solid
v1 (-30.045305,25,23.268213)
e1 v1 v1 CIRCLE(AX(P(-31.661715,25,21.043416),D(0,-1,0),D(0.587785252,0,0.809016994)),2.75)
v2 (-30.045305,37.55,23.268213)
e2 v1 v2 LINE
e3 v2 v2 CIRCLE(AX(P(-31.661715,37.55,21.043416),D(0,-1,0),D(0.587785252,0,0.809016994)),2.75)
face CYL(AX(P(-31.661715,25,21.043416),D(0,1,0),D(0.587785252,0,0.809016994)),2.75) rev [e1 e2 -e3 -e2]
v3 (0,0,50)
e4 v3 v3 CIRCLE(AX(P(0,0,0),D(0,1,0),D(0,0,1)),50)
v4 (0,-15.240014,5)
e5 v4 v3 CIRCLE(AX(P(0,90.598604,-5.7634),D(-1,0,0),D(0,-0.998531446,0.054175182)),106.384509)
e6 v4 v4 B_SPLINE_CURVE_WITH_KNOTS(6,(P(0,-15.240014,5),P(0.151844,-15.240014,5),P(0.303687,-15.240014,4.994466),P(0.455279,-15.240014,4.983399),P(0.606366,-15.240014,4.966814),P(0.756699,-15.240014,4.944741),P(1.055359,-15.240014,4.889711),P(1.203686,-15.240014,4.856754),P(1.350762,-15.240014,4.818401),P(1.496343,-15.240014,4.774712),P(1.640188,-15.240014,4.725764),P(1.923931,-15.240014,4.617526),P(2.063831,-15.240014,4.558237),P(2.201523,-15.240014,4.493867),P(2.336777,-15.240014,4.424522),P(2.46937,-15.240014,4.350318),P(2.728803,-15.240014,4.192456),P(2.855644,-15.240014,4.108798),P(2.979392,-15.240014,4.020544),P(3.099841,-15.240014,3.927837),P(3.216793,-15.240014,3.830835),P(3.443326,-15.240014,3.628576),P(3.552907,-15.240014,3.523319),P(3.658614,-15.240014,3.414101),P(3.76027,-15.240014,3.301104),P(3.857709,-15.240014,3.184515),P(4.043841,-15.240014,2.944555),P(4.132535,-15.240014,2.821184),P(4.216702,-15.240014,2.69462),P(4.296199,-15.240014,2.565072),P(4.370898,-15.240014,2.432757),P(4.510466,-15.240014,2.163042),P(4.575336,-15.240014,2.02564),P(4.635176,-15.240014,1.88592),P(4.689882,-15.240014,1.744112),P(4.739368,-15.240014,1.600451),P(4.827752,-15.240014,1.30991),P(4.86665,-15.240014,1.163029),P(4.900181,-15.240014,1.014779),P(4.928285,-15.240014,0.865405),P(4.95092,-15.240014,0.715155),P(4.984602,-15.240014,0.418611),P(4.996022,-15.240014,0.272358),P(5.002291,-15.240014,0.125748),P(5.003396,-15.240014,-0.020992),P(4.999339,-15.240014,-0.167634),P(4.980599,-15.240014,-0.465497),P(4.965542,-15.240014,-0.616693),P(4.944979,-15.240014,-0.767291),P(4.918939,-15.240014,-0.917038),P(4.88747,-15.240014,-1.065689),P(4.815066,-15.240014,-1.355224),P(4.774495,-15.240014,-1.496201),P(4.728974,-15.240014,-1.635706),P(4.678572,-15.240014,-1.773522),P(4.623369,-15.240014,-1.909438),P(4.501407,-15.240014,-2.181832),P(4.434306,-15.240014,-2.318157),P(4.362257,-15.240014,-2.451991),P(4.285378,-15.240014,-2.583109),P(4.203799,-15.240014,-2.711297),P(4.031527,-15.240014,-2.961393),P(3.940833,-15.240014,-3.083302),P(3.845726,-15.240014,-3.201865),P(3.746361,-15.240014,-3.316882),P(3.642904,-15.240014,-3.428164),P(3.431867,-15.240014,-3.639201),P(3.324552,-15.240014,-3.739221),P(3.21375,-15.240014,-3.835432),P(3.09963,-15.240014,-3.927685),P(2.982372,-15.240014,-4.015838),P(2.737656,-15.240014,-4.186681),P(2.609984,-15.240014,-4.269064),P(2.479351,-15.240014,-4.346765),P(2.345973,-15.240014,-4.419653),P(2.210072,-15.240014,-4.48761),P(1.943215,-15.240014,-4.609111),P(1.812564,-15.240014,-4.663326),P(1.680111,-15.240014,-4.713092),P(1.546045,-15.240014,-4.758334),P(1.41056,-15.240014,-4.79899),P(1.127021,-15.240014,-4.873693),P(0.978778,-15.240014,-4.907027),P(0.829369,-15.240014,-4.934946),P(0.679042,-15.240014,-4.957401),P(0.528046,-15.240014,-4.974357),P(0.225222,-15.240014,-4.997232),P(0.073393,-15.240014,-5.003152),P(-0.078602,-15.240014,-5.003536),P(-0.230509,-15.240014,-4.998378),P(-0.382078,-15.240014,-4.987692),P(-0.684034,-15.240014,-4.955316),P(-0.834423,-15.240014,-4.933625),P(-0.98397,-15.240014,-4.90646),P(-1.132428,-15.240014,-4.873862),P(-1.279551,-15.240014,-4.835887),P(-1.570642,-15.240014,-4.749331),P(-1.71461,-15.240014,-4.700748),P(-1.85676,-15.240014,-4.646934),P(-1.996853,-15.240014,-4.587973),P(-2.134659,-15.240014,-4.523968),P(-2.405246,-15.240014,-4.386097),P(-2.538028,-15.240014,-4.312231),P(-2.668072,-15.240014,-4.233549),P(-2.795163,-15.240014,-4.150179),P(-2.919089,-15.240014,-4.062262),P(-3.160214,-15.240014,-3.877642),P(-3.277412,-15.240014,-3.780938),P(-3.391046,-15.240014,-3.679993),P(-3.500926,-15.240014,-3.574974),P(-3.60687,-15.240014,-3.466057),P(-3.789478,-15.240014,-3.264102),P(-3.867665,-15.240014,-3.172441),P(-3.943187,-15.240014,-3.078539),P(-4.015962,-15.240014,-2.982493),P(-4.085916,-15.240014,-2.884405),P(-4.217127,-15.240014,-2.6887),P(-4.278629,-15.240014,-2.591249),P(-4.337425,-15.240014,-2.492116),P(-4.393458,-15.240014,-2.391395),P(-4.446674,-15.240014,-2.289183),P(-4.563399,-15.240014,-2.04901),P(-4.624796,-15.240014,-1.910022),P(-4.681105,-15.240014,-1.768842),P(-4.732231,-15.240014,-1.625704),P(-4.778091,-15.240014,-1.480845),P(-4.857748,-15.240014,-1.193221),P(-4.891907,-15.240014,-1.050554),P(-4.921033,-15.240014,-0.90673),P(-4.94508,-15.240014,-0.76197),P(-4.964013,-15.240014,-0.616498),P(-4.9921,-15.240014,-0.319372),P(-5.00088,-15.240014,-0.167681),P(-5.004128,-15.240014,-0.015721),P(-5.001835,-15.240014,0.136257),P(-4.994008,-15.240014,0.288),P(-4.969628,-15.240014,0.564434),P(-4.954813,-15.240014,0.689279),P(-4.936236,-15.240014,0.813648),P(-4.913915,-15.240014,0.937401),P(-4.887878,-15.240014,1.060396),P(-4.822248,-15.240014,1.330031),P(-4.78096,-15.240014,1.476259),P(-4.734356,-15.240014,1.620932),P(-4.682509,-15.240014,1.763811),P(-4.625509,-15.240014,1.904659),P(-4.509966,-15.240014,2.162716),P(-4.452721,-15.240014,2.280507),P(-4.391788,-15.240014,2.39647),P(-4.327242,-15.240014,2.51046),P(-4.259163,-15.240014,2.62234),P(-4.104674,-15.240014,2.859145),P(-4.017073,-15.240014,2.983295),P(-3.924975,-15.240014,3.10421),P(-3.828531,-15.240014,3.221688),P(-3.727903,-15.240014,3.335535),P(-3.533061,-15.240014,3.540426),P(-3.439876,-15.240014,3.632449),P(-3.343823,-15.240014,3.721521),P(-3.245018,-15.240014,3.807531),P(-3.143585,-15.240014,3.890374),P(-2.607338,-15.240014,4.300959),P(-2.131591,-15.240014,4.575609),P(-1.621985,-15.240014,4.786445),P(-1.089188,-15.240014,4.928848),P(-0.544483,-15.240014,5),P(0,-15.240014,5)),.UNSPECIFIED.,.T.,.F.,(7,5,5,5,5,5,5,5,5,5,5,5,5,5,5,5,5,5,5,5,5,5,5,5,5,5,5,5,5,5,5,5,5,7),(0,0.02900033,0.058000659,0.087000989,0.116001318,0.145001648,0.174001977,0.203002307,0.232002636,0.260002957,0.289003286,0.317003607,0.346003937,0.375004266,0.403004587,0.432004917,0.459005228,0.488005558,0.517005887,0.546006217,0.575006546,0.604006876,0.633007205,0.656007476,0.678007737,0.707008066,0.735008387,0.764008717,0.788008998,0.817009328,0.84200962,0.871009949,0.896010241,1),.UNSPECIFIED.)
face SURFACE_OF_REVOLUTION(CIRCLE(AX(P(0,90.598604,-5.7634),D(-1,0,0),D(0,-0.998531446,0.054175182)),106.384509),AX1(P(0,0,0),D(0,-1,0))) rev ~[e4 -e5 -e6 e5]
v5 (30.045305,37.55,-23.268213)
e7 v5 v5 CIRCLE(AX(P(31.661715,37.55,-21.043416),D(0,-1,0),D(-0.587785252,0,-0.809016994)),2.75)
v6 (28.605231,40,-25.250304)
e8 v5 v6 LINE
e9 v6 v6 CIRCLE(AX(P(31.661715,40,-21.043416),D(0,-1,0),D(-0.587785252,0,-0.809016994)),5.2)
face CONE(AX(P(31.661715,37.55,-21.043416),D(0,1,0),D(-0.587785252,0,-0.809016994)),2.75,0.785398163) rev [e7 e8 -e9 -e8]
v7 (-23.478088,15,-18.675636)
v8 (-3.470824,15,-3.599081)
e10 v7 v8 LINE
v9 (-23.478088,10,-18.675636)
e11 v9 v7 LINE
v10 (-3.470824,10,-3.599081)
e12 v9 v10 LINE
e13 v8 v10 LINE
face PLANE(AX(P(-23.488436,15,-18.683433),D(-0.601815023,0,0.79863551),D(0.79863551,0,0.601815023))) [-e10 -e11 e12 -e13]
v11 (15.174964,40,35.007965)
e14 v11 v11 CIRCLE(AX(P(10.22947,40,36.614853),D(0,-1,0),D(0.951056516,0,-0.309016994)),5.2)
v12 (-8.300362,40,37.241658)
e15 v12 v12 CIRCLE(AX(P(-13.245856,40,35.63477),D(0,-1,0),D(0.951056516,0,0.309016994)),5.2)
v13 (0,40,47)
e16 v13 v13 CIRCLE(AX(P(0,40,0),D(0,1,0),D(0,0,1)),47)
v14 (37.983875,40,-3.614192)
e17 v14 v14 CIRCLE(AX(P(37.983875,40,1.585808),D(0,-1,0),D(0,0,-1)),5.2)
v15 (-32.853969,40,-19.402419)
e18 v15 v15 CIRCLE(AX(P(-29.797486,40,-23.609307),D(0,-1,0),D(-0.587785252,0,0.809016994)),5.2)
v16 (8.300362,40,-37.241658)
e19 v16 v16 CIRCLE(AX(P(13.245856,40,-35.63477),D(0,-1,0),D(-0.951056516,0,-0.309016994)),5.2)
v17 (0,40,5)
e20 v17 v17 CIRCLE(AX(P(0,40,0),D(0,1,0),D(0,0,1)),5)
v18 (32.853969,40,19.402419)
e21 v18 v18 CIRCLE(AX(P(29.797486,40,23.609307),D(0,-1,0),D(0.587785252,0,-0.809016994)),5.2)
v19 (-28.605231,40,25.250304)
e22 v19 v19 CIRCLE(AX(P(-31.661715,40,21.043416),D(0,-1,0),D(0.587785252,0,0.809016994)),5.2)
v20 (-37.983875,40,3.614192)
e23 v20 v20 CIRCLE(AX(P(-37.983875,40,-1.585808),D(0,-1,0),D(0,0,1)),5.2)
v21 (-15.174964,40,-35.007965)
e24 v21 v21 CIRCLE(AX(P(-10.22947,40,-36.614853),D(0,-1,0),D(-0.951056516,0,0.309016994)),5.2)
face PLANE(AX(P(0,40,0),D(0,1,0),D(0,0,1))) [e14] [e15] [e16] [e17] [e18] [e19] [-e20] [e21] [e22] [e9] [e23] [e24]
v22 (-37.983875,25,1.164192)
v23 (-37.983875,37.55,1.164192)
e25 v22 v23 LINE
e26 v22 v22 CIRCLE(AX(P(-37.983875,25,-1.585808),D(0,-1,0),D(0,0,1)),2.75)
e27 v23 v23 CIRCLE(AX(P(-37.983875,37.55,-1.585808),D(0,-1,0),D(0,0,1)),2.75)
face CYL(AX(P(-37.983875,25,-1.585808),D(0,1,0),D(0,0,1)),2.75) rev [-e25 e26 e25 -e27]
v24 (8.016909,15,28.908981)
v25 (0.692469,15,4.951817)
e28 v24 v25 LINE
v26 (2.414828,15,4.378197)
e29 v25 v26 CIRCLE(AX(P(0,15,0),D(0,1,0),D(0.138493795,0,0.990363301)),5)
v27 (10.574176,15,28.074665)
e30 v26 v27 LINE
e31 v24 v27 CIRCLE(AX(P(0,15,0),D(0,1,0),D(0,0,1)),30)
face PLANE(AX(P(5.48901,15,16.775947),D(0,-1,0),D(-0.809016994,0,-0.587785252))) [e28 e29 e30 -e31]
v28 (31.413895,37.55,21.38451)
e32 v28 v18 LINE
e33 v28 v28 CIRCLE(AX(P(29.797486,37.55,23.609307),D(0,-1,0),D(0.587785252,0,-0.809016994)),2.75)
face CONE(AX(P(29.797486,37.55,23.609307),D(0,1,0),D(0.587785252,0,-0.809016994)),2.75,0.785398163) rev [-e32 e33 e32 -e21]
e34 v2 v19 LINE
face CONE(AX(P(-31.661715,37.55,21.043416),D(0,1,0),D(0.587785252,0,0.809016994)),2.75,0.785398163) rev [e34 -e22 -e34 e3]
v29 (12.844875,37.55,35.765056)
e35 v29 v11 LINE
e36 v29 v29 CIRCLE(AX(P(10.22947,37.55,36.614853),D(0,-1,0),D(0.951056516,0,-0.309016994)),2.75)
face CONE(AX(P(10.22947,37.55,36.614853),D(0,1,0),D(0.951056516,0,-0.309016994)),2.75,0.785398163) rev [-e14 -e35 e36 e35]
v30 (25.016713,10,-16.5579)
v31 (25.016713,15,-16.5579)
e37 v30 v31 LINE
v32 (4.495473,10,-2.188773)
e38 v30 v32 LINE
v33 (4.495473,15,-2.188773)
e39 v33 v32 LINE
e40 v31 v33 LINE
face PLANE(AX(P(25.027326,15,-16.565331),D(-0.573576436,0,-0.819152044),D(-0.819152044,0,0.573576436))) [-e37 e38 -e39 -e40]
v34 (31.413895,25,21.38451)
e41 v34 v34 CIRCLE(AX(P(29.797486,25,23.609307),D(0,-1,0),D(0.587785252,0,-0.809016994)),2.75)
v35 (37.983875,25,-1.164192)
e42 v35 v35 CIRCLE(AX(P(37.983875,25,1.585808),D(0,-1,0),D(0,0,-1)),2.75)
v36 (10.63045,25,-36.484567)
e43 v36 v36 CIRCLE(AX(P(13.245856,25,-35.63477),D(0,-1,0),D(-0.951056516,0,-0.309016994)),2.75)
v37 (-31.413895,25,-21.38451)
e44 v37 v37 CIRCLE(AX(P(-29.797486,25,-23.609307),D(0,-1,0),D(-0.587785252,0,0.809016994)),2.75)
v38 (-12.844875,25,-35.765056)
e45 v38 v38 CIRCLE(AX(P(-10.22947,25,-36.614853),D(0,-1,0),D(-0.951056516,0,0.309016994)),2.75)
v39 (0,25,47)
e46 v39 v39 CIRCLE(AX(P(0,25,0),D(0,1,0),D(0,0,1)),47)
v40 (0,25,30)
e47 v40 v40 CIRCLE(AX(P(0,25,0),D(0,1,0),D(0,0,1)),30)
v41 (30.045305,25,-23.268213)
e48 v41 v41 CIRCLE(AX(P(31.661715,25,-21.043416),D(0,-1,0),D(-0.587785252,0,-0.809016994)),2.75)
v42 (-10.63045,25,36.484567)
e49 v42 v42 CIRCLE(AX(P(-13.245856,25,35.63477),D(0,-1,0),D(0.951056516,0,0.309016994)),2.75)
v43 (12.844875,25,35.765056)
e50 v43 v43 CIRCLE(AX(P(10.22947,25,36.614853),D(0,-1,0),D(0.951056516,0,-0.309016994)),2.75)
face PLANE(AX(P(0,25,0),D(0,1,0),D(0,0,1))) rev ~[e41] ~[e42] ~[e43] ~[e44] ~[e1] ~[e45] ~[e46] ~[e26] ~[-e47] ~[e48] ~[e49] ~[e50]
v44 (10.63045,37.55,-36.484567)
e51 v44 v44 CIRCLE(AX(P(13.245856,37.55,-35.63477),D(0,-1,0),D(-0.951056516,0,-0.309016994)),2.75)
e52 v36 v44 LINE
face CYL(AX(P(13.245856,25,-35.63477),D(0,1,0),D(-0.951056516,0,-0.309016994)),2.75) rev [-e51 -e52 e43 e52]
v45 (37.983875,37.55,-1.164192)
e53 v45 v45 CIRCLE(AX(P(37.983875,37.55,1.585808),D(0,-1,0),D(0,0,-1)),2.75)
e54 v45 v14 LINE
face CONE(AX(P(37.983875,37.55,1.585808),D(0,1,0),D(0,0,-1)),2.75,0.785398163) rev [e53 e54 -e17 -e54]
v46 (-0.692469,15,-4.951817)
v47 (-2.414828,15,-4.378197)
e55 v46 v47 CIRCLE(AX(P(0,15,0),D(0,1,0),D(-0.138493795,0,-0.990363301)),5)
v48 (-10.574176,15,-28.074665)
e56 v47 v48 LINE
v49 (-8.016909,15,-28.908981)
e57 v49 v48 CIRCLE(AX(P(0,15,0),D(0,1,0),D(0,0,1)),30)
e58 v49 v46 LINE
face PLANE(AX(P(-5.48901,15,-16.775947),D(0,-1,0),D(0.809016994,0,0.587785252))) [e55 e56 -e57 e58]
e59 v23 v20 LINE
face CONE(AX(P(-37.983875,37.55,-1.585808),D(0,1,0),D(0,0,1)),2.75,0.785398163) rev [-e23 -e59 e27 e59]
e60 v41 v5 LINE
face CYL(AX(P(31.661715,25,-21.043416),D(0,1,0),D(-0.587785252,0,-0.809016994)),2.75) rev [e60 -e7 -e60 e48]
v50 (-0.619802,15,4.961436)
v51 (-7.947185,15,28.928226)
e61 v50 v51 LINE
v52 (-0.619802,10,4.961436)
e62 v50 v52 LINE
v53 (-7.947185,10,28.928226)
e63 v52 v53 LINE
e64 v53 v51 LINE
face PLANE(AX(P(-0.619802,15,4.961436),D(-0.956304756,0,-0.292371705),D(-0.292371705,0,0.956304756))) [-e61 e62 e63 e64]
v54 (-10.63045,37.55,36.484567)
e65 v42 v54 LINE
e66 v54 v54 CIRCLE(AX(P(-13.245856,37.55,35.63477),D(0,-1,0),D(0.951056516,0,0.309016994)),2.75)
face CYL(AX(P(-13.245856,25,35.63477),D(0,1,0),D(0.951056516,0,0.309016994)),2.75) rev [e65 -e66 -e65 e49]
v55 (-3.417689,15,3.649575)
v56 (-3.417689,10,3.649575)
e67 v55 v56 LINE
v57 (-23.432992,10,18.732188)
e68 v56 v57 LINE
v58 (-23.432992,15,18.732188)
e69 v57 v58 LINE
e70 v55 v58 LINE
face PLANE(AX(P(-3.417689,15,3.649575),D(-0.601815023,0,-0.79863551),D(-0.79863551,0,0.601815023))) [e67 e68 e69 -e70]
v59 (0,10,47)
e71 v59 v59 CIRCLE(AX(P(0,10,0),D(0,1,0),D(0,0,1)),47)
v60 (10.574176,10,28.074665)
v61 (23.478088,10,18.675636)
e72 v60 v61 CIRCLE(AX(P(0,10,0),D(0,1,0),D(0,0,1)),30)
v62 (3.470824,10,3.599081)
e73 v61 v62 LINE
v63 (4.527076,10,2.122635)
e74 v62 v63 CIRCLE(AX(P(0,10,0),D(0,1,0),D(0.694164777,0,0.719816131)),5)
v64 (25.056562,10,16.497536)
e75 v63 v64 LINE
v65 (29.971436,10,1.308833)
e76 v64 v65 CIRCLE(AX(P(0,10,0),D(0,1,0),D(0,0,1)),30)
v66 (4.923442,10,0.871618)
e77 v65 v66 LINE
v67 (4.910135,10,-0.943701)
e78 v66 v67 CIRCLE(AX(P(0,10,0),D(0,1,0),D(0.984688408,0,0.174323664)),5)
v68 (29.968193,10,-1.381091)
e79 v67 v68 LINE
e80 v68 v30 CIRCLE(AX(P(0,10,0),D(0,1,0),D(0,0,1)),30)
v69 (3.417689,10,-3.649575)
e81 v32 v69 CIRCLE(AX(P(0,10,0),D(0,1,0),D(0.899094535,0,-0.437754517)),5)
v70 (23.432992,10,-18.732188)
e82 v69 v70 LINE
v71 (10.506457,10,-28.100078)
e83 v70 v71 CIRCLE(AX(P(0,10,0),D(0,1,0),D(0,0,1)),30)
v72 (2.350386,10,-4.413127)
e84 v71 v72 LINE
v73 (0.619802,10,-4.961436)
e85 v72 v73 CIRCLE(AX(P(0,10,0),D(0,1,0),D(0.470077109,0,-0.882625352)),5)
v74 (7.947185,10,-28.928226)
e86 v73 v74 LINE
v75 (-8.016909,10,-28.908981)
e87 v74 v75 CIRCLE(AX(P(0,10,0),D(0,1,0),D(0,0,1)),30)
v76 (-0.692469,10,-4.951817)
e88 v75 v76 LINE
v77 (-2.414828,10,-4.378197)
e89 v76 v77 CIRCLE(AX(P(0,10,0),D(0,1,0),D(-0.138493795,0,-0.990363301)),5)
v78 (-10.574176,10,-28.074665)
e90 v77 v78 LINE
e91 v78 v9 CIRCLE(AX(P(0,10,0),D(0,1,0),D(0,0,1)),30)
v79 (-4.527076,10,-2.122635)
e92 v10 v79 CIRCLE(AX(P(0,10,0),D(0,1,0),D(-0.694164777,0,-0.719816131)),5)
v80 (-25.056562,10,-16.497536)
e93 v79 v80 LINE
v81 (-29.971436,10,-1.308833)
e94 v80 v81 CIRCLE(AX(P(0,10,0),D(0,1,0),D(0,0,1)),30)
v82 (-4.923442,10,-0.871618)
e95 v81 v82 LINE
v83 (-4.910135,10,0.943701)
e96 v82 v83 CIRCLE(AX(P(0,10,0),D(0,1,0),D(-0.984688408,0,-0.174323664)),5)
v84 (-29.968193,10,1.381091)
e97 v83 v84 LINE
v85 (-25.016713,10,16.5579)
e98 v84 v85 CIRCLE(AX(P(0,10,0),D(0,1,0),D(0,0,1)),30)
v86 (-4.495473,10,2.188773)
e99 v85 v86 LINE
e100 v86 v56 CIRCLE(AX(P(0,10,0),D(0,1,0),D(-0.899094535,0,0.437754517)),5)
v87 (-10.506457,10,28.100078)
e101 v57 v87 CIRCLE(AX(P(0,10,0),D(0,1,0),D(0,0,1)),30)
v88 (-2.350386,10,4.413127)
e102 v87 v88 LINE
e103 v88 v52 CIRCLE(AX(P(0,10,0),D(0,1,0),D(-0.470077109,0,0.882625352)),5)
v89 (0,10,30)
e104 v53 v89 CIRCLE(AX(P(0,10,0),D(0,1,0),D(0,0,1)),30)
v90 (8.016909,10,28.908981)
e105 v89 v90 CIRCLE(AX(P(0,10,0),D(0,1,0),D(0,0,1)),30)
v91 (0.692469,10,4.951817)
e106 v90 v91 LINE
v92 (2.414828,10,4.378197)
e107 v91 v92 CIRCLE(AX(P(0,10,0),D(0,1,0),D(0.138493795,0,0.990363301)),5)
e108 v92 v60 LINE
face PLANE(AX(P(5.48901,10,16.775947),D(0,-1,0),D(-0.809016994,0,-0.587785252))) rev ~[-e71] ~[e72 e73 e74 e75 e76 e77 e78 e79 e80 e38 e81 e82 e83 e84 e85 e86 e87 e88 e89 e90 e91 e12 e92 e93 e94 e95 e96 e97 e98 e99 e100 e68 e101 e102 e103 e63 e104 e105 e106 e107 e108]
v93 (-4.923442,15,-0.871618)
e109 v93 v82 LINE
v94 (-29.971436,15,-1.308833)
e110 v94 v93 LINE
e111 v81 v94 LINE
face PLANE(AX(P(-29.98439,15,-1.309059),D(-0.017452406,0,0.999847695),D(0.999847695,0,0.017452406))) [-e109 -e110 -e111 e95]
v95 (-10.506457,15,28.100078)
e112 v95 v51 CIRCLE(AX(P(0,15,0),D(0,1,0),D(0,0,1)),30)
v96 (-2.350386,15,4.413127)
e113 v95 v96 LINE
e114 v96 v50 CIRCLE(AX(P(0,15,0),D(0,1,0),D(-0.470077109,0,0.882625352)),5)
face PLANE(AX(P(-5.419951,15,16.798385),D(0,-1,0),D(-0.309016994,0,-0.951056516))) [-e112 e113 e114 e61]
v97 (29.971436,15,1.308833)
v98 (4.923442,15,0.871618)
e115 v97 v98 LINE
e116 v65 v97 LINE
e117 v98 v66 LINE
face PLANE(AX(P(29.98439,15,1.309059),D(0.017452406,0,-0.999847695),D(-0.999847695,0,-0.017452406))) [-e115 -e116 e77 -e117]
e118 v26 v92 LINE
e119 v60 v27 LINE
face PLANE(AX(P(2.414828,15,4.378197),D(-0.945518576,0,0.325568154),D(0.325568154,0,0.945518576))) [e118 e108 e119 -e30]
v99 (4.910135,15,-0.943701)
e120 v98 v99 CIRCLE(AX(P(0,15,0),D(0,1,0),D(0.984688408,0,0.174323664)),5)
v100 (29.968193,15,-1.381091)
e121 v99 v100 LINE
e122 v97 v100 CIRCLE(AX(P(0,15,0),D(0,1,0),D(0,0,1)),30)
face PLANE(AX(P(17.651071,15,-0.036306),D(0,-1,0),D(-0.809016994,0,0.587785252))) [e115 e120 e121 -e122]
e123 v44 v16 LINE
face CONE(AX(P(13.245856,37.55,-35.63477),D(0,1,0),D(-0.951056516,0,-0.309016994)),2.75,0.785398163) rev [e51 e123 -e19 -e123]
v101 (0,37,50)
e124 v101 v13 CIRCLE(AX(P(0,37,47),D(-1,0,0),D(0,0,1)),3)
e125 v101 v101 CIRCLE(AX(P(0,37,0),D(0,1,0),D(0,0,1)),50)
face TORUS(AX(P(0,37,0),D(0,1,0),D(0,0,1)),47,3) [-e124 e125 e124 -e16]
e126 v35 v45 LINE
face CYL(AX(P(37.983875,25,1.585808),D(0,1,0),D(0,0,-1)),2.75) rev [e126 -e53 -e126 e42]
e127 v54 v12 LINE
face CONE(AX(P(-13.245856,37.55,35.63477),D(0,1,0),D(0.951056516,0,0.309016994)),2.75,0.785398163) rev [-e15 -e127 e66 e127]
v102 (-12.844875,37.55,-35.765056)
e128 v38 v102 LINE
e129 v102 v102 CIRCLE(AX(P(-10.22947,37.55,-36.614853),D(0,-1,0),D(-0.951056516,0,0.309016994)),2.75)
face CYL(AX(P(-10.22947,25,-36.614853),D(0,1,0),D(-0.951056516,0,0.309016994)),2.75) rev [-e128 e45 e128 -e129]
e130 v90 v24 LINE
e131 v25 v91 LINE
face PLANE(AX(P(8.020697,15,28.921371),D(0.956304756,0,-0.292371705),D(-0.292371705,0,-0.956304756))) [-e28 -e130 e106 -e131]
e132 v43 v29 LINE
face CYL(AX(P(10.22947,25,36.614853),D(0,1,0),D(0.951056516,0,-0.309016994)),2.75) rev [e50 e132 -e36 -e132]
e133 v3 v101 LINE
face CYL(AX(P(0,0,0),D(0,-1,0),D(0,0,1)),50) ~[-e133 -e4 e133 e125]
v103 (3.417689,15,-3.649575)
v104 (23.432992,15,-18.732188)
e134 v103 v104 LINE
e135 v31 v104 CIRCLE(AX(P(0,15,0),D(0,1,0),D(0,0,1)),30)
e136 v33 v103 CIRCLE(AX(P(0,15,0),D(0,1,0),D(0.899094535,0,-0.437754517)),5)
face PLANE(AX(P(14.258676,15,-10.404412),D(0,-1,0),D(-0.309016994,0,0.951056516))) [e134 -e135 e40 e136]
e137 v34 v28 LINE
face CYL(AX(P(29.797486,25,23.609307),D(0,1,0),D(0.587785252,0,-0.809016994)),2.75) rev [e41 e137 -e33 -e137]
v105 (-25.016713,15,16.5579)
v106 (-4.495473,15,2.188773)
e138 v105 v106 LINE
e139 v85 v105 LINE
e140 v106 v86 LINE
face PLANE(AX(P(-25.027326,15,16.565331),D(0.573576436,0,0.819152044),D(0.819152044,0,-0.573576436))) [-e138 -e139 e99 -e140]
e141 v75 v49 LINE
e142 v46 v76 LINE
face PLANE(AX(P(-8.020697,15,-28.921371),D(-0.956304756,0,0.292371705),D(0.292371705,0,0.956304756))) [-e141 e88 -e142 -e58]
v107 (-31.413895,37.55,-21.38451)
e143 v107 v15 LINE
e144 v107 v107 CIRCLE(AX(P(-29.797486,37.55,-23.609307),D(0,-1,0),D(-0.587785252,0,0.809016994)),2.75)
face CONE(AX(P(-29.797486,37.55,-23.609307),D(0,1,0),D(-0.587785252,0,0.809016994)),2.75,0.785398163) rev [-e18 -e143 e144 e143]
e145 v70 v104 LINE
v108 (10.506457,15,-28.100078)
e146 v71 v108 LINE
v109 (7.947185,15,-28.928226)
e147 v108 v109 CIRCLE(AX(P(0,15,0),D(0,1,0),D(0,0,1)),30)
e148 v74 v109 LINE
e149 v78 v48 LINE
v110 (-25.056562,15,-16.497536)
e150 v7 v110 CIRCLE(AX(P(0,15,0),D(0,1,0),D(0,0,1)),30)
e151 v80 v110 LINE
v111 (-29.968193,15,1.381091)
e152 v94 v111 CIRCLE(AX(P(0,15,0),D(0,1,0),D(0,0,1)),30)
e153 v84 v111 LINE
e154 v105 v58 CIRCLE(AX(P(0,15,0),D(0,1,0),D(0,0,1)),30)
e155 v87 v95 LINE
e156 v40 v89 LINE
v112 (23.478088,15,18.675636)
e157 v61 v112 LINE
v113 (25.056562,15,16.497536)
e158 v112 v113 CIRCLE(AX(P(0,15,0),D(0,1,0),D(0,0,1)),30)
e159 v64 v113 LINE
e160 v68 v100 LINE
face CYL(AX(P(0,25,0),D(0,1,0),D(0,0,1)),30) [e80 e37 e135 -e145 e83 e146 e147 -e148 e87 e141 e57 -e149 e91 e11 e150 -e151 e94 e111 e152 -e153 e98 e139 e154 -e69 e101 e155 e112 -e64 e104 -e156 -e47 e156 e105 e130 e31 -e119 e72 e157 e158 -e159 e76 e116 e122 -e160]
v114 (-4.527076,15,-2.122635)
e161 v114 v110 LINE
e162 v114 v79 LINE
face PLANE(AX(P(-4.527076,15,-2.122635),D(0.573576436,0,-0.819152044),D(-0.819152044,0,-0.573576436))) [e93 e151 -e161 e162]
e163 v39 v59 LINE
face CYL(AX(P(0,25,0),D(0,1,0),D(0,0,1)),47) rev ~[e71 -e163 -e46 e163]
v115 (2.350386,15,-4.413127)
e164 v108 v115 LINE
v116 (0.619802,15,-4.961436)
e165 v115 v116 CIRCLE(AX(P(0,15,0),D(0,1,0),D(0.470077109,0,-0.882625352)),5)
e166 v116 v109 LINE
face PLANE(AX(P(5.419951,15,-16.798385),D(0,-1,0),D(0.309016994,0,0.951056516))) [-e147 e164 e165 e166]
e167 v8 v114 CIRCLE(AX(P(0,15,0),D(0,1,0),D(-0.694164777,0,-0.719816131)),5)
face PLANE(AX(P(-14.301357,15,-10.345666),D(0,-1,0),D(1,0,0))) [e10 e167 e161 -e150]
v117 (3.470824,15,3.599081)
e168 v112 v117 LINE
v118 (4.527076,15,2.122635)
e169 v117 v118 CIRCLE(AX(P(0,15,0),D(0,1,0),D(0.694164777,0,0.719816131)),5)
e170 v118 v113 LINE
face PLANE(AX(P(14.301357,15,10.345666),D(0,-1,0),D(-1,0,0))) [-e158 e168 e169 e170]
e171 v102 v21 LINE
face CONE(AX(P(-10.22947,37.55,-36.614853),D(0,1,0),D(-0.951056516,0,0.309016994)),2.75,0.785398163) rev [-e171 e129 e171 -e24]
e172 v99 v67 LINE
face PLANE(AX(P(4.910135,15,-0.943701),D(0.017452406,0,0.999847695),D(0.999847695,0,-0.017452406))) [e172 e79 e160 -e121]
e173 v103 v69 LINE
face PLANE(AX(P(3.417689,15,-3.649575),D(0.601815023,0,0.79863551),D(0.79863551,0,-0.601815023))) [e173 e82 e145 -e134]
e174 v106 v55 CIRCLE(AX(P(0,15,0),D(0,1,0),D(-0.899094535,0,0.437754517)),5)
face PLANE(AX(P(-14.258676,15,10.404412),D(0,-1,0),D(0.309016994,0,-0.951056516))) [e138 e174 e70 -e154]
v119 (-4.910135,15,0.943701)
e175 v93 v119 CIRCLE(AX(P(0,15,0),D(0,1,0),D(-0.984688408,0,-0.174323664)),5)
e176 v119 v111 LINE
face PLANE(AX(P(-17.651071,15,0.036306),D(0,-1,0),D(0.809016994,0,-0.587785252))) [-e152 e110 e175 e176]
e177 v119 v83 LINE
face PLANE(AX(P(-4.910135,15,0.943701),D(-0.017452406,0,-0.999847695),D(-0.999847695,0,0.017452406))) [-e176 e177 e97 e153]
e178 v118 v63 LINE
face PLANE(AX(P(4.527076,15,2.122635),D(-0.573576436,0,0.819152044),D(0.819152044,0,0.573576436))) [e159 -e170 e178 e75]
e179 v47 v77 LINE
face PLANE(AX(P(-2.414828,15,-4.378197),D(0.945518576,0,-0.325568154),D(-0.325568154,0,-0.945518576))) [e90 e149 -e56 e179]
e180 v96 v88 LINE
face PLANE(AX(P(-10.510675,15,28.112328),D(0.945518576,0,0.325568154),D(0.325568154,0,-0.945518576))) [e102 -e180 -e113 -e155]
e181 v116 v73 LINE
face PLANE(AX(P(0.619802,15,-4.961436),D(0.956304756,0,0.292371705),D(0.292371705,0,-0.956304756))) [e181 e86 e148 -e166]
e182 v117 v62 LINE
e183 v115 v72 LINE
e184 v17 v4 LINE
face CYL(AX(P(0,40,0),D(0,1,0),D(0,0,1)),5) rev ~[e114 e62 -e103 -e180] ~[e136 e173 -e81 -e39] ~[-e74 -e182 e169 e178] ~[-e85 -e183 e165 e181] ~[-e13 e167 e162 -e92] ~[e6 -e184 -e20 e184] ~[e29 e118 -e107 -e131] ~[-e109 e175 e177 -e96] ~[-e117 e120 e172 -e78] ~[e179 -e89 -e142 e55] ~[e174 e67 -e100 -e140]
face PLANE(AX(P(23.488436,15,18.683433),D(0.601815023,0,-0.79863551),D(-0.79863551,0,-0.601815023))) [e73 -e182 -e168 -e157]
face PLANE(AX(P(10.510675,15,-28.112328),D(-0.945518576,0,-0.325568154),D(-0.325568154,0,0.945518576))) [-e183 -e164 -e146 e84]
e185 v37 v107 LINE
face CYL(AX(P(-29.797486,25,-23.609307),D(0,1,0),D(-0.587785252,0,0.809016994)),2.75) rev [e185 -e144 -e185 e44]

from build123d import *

# Parameters (mm, degrees)
SKETCH1_R           = 50
BOSS_EXTRUDE1_DEPTH = 40
CIRPATTERN1_COUNT   = 10
FILLET2_R           = 3
SKETCH9_R           = 5
CUT_EXTRUDE2_DEPTH  = 90.970332195
SKETCH10_R          = 47
SKETCH10_R_2        = 30
CUT_EXTRUDE3_DEPTH  = 15
CUT_EXTRUDE4_START  = 5
CUT_EXTRUDE4_DEPTH  = 5
CIRPATTERN2_COUNT   = 10


with BuildPart() as part:
    # Sketch1 → Boss-Extrude1 (new body)
    with BuildSketch(Plane(origin=(0, 0, 0), x_dir=(1, 0, 0), z_dir=(0, 1, 0))):
        with Locations(Location((0, 0, 0), (0, 0, 270))):
            Circle(SKETCH1_R)
    extrude(amount=BOSS_EXTRUDE1_DEPTH)

    # Sketch5 → CSK for M5 Countersunk Flat Head Screw1 (revolve, cut)
    with BuildSketch(Plane(origin=(-37.983874715, 40, -1.585807891), x_dir=(0, 0, 1), z_dir=(1, 0, 0))):
        Polygon((0, 0), (0, 16.652366702), (2.75, 15), (2.75, 2.45), (5.2, 0), align=None)
    csk_for_m5_countersunk_flat_head_screw1 = revolve(axis=Axis((-37.983874715, 46.35, -1.585807891), (0, -1, 0)), mode=Mode.SUBTRACT)

    # CirPattern1: CSK for M5 Countersunk Flat Head Screw1 ×10 about axis
    cirpattern1_axis = Axis((0, 0, 0), (0, 1, 0))
    for i in range(1, CIRPATTERN1_COUNT):
        add(csk_for_m5_countersunk_flat_head_screw1.rotate(cirpattern1_axis, i * 360 / CIRPATTERN1_COUNT), mode=Mode.SUBTRACT)

    # Fillet2
    fillet2_edges = [part.edges().sort_by_distance(p)[0] for p in [
        (0, 40, -50),
    ]]
    fillet(fillet2_edges, radius=FILLET2_R)

    # Sketch8 → Revolve2 (revolve)
    with BuildSketch(Plane(origin=(0, 0, 0), x_dir=(0, 0, -1), z_dir=(1, 0, 0))):
        with BuildLine():
            Line((-50, 0), (0, 0))
            Line((0, 0), (0, -15.629674134))
            ThreePointArc((0, -15.629674134), (-25.977086096, -10.940577527), (-50, 0))
        make_face()
    revolve(axis=Axis((0, 0, 0), (0, -1, 0)))

    # Sketch9 → Cut-Extrude2 (cut, through all)
    with BuildSketch(Plane(origin=(0, 40, 0), x_dir=(1, 0, 0), z_dir=(0, 1, 0))):
        with Locations(Location((0, 0, 0), (0, 0, 270))):
            Circle(SKETCH9_R)
    extrude(amount=-CUT_EXTRUDE2_DEPTH, mode=Mode.SUBTRACT)

    # Sketch10 → Cut-Extrude3 (cut)
    with BuildSketch(Plane(origin=(0, 25, 0), x_dir=(1, 0, 0), z_dir=(0, 1, 0))):
        with Locations(Location((0, 0, 0), (0, 0, 270))):
            Circle(SKETCH10_R)
        with Locations(Location((0, 0, 0), (0, 0, 270))):
            Circle(SKETCH10_R_2, mode=Mode.SUBTRACT)
    extrude(amount=-CUT_EXTRUDE3_DEPTH, mode=Mode.SUBTRACT)

    # Sketch15 → Cut-Extrude4 (cut)
    with BuildSketch(Plane(origin=(0, 10, 0), x_dir=(1, 0, 0), z_dir=(0, 1, 0)).offset(CUT_EXTRUDE4_START)):
        with BuildLine():
            Line((4.527076374, -2.122635039), (25.067176095, -16.504967699))
            ThreePointArc((25.067176095, -16.504967699), (24.302227971, -17.611899153), (23.488435591, -18.683433026))
            Line((23.488435591, -18.683433026), (3.470823887, -3.599080653))
            ThreePointArc((3.470823887, -3.599080653), (4.066518789, -2.909196615), (4.527076374, -2.122635039))
        make_face()
    cut_extrude4 = extrude(amount=-CUT_EXTRUDE4_DEPTH, mode=Mode.SUBTRACT)

    # CirPattern2: Cut-Extrude4 ×10 about axis
    cirpattern2_axis = Axis((0, 0, 0), (0, 1, 0))
    for i in range(1, CIRPATTERN2_COUNT):
        add(cut_extrude4.rotate(cirpattern2_axis, i * 360 / CIRPATTERN2_COUNT), mode=Mode.SUBTRACT)


solid = part.part
